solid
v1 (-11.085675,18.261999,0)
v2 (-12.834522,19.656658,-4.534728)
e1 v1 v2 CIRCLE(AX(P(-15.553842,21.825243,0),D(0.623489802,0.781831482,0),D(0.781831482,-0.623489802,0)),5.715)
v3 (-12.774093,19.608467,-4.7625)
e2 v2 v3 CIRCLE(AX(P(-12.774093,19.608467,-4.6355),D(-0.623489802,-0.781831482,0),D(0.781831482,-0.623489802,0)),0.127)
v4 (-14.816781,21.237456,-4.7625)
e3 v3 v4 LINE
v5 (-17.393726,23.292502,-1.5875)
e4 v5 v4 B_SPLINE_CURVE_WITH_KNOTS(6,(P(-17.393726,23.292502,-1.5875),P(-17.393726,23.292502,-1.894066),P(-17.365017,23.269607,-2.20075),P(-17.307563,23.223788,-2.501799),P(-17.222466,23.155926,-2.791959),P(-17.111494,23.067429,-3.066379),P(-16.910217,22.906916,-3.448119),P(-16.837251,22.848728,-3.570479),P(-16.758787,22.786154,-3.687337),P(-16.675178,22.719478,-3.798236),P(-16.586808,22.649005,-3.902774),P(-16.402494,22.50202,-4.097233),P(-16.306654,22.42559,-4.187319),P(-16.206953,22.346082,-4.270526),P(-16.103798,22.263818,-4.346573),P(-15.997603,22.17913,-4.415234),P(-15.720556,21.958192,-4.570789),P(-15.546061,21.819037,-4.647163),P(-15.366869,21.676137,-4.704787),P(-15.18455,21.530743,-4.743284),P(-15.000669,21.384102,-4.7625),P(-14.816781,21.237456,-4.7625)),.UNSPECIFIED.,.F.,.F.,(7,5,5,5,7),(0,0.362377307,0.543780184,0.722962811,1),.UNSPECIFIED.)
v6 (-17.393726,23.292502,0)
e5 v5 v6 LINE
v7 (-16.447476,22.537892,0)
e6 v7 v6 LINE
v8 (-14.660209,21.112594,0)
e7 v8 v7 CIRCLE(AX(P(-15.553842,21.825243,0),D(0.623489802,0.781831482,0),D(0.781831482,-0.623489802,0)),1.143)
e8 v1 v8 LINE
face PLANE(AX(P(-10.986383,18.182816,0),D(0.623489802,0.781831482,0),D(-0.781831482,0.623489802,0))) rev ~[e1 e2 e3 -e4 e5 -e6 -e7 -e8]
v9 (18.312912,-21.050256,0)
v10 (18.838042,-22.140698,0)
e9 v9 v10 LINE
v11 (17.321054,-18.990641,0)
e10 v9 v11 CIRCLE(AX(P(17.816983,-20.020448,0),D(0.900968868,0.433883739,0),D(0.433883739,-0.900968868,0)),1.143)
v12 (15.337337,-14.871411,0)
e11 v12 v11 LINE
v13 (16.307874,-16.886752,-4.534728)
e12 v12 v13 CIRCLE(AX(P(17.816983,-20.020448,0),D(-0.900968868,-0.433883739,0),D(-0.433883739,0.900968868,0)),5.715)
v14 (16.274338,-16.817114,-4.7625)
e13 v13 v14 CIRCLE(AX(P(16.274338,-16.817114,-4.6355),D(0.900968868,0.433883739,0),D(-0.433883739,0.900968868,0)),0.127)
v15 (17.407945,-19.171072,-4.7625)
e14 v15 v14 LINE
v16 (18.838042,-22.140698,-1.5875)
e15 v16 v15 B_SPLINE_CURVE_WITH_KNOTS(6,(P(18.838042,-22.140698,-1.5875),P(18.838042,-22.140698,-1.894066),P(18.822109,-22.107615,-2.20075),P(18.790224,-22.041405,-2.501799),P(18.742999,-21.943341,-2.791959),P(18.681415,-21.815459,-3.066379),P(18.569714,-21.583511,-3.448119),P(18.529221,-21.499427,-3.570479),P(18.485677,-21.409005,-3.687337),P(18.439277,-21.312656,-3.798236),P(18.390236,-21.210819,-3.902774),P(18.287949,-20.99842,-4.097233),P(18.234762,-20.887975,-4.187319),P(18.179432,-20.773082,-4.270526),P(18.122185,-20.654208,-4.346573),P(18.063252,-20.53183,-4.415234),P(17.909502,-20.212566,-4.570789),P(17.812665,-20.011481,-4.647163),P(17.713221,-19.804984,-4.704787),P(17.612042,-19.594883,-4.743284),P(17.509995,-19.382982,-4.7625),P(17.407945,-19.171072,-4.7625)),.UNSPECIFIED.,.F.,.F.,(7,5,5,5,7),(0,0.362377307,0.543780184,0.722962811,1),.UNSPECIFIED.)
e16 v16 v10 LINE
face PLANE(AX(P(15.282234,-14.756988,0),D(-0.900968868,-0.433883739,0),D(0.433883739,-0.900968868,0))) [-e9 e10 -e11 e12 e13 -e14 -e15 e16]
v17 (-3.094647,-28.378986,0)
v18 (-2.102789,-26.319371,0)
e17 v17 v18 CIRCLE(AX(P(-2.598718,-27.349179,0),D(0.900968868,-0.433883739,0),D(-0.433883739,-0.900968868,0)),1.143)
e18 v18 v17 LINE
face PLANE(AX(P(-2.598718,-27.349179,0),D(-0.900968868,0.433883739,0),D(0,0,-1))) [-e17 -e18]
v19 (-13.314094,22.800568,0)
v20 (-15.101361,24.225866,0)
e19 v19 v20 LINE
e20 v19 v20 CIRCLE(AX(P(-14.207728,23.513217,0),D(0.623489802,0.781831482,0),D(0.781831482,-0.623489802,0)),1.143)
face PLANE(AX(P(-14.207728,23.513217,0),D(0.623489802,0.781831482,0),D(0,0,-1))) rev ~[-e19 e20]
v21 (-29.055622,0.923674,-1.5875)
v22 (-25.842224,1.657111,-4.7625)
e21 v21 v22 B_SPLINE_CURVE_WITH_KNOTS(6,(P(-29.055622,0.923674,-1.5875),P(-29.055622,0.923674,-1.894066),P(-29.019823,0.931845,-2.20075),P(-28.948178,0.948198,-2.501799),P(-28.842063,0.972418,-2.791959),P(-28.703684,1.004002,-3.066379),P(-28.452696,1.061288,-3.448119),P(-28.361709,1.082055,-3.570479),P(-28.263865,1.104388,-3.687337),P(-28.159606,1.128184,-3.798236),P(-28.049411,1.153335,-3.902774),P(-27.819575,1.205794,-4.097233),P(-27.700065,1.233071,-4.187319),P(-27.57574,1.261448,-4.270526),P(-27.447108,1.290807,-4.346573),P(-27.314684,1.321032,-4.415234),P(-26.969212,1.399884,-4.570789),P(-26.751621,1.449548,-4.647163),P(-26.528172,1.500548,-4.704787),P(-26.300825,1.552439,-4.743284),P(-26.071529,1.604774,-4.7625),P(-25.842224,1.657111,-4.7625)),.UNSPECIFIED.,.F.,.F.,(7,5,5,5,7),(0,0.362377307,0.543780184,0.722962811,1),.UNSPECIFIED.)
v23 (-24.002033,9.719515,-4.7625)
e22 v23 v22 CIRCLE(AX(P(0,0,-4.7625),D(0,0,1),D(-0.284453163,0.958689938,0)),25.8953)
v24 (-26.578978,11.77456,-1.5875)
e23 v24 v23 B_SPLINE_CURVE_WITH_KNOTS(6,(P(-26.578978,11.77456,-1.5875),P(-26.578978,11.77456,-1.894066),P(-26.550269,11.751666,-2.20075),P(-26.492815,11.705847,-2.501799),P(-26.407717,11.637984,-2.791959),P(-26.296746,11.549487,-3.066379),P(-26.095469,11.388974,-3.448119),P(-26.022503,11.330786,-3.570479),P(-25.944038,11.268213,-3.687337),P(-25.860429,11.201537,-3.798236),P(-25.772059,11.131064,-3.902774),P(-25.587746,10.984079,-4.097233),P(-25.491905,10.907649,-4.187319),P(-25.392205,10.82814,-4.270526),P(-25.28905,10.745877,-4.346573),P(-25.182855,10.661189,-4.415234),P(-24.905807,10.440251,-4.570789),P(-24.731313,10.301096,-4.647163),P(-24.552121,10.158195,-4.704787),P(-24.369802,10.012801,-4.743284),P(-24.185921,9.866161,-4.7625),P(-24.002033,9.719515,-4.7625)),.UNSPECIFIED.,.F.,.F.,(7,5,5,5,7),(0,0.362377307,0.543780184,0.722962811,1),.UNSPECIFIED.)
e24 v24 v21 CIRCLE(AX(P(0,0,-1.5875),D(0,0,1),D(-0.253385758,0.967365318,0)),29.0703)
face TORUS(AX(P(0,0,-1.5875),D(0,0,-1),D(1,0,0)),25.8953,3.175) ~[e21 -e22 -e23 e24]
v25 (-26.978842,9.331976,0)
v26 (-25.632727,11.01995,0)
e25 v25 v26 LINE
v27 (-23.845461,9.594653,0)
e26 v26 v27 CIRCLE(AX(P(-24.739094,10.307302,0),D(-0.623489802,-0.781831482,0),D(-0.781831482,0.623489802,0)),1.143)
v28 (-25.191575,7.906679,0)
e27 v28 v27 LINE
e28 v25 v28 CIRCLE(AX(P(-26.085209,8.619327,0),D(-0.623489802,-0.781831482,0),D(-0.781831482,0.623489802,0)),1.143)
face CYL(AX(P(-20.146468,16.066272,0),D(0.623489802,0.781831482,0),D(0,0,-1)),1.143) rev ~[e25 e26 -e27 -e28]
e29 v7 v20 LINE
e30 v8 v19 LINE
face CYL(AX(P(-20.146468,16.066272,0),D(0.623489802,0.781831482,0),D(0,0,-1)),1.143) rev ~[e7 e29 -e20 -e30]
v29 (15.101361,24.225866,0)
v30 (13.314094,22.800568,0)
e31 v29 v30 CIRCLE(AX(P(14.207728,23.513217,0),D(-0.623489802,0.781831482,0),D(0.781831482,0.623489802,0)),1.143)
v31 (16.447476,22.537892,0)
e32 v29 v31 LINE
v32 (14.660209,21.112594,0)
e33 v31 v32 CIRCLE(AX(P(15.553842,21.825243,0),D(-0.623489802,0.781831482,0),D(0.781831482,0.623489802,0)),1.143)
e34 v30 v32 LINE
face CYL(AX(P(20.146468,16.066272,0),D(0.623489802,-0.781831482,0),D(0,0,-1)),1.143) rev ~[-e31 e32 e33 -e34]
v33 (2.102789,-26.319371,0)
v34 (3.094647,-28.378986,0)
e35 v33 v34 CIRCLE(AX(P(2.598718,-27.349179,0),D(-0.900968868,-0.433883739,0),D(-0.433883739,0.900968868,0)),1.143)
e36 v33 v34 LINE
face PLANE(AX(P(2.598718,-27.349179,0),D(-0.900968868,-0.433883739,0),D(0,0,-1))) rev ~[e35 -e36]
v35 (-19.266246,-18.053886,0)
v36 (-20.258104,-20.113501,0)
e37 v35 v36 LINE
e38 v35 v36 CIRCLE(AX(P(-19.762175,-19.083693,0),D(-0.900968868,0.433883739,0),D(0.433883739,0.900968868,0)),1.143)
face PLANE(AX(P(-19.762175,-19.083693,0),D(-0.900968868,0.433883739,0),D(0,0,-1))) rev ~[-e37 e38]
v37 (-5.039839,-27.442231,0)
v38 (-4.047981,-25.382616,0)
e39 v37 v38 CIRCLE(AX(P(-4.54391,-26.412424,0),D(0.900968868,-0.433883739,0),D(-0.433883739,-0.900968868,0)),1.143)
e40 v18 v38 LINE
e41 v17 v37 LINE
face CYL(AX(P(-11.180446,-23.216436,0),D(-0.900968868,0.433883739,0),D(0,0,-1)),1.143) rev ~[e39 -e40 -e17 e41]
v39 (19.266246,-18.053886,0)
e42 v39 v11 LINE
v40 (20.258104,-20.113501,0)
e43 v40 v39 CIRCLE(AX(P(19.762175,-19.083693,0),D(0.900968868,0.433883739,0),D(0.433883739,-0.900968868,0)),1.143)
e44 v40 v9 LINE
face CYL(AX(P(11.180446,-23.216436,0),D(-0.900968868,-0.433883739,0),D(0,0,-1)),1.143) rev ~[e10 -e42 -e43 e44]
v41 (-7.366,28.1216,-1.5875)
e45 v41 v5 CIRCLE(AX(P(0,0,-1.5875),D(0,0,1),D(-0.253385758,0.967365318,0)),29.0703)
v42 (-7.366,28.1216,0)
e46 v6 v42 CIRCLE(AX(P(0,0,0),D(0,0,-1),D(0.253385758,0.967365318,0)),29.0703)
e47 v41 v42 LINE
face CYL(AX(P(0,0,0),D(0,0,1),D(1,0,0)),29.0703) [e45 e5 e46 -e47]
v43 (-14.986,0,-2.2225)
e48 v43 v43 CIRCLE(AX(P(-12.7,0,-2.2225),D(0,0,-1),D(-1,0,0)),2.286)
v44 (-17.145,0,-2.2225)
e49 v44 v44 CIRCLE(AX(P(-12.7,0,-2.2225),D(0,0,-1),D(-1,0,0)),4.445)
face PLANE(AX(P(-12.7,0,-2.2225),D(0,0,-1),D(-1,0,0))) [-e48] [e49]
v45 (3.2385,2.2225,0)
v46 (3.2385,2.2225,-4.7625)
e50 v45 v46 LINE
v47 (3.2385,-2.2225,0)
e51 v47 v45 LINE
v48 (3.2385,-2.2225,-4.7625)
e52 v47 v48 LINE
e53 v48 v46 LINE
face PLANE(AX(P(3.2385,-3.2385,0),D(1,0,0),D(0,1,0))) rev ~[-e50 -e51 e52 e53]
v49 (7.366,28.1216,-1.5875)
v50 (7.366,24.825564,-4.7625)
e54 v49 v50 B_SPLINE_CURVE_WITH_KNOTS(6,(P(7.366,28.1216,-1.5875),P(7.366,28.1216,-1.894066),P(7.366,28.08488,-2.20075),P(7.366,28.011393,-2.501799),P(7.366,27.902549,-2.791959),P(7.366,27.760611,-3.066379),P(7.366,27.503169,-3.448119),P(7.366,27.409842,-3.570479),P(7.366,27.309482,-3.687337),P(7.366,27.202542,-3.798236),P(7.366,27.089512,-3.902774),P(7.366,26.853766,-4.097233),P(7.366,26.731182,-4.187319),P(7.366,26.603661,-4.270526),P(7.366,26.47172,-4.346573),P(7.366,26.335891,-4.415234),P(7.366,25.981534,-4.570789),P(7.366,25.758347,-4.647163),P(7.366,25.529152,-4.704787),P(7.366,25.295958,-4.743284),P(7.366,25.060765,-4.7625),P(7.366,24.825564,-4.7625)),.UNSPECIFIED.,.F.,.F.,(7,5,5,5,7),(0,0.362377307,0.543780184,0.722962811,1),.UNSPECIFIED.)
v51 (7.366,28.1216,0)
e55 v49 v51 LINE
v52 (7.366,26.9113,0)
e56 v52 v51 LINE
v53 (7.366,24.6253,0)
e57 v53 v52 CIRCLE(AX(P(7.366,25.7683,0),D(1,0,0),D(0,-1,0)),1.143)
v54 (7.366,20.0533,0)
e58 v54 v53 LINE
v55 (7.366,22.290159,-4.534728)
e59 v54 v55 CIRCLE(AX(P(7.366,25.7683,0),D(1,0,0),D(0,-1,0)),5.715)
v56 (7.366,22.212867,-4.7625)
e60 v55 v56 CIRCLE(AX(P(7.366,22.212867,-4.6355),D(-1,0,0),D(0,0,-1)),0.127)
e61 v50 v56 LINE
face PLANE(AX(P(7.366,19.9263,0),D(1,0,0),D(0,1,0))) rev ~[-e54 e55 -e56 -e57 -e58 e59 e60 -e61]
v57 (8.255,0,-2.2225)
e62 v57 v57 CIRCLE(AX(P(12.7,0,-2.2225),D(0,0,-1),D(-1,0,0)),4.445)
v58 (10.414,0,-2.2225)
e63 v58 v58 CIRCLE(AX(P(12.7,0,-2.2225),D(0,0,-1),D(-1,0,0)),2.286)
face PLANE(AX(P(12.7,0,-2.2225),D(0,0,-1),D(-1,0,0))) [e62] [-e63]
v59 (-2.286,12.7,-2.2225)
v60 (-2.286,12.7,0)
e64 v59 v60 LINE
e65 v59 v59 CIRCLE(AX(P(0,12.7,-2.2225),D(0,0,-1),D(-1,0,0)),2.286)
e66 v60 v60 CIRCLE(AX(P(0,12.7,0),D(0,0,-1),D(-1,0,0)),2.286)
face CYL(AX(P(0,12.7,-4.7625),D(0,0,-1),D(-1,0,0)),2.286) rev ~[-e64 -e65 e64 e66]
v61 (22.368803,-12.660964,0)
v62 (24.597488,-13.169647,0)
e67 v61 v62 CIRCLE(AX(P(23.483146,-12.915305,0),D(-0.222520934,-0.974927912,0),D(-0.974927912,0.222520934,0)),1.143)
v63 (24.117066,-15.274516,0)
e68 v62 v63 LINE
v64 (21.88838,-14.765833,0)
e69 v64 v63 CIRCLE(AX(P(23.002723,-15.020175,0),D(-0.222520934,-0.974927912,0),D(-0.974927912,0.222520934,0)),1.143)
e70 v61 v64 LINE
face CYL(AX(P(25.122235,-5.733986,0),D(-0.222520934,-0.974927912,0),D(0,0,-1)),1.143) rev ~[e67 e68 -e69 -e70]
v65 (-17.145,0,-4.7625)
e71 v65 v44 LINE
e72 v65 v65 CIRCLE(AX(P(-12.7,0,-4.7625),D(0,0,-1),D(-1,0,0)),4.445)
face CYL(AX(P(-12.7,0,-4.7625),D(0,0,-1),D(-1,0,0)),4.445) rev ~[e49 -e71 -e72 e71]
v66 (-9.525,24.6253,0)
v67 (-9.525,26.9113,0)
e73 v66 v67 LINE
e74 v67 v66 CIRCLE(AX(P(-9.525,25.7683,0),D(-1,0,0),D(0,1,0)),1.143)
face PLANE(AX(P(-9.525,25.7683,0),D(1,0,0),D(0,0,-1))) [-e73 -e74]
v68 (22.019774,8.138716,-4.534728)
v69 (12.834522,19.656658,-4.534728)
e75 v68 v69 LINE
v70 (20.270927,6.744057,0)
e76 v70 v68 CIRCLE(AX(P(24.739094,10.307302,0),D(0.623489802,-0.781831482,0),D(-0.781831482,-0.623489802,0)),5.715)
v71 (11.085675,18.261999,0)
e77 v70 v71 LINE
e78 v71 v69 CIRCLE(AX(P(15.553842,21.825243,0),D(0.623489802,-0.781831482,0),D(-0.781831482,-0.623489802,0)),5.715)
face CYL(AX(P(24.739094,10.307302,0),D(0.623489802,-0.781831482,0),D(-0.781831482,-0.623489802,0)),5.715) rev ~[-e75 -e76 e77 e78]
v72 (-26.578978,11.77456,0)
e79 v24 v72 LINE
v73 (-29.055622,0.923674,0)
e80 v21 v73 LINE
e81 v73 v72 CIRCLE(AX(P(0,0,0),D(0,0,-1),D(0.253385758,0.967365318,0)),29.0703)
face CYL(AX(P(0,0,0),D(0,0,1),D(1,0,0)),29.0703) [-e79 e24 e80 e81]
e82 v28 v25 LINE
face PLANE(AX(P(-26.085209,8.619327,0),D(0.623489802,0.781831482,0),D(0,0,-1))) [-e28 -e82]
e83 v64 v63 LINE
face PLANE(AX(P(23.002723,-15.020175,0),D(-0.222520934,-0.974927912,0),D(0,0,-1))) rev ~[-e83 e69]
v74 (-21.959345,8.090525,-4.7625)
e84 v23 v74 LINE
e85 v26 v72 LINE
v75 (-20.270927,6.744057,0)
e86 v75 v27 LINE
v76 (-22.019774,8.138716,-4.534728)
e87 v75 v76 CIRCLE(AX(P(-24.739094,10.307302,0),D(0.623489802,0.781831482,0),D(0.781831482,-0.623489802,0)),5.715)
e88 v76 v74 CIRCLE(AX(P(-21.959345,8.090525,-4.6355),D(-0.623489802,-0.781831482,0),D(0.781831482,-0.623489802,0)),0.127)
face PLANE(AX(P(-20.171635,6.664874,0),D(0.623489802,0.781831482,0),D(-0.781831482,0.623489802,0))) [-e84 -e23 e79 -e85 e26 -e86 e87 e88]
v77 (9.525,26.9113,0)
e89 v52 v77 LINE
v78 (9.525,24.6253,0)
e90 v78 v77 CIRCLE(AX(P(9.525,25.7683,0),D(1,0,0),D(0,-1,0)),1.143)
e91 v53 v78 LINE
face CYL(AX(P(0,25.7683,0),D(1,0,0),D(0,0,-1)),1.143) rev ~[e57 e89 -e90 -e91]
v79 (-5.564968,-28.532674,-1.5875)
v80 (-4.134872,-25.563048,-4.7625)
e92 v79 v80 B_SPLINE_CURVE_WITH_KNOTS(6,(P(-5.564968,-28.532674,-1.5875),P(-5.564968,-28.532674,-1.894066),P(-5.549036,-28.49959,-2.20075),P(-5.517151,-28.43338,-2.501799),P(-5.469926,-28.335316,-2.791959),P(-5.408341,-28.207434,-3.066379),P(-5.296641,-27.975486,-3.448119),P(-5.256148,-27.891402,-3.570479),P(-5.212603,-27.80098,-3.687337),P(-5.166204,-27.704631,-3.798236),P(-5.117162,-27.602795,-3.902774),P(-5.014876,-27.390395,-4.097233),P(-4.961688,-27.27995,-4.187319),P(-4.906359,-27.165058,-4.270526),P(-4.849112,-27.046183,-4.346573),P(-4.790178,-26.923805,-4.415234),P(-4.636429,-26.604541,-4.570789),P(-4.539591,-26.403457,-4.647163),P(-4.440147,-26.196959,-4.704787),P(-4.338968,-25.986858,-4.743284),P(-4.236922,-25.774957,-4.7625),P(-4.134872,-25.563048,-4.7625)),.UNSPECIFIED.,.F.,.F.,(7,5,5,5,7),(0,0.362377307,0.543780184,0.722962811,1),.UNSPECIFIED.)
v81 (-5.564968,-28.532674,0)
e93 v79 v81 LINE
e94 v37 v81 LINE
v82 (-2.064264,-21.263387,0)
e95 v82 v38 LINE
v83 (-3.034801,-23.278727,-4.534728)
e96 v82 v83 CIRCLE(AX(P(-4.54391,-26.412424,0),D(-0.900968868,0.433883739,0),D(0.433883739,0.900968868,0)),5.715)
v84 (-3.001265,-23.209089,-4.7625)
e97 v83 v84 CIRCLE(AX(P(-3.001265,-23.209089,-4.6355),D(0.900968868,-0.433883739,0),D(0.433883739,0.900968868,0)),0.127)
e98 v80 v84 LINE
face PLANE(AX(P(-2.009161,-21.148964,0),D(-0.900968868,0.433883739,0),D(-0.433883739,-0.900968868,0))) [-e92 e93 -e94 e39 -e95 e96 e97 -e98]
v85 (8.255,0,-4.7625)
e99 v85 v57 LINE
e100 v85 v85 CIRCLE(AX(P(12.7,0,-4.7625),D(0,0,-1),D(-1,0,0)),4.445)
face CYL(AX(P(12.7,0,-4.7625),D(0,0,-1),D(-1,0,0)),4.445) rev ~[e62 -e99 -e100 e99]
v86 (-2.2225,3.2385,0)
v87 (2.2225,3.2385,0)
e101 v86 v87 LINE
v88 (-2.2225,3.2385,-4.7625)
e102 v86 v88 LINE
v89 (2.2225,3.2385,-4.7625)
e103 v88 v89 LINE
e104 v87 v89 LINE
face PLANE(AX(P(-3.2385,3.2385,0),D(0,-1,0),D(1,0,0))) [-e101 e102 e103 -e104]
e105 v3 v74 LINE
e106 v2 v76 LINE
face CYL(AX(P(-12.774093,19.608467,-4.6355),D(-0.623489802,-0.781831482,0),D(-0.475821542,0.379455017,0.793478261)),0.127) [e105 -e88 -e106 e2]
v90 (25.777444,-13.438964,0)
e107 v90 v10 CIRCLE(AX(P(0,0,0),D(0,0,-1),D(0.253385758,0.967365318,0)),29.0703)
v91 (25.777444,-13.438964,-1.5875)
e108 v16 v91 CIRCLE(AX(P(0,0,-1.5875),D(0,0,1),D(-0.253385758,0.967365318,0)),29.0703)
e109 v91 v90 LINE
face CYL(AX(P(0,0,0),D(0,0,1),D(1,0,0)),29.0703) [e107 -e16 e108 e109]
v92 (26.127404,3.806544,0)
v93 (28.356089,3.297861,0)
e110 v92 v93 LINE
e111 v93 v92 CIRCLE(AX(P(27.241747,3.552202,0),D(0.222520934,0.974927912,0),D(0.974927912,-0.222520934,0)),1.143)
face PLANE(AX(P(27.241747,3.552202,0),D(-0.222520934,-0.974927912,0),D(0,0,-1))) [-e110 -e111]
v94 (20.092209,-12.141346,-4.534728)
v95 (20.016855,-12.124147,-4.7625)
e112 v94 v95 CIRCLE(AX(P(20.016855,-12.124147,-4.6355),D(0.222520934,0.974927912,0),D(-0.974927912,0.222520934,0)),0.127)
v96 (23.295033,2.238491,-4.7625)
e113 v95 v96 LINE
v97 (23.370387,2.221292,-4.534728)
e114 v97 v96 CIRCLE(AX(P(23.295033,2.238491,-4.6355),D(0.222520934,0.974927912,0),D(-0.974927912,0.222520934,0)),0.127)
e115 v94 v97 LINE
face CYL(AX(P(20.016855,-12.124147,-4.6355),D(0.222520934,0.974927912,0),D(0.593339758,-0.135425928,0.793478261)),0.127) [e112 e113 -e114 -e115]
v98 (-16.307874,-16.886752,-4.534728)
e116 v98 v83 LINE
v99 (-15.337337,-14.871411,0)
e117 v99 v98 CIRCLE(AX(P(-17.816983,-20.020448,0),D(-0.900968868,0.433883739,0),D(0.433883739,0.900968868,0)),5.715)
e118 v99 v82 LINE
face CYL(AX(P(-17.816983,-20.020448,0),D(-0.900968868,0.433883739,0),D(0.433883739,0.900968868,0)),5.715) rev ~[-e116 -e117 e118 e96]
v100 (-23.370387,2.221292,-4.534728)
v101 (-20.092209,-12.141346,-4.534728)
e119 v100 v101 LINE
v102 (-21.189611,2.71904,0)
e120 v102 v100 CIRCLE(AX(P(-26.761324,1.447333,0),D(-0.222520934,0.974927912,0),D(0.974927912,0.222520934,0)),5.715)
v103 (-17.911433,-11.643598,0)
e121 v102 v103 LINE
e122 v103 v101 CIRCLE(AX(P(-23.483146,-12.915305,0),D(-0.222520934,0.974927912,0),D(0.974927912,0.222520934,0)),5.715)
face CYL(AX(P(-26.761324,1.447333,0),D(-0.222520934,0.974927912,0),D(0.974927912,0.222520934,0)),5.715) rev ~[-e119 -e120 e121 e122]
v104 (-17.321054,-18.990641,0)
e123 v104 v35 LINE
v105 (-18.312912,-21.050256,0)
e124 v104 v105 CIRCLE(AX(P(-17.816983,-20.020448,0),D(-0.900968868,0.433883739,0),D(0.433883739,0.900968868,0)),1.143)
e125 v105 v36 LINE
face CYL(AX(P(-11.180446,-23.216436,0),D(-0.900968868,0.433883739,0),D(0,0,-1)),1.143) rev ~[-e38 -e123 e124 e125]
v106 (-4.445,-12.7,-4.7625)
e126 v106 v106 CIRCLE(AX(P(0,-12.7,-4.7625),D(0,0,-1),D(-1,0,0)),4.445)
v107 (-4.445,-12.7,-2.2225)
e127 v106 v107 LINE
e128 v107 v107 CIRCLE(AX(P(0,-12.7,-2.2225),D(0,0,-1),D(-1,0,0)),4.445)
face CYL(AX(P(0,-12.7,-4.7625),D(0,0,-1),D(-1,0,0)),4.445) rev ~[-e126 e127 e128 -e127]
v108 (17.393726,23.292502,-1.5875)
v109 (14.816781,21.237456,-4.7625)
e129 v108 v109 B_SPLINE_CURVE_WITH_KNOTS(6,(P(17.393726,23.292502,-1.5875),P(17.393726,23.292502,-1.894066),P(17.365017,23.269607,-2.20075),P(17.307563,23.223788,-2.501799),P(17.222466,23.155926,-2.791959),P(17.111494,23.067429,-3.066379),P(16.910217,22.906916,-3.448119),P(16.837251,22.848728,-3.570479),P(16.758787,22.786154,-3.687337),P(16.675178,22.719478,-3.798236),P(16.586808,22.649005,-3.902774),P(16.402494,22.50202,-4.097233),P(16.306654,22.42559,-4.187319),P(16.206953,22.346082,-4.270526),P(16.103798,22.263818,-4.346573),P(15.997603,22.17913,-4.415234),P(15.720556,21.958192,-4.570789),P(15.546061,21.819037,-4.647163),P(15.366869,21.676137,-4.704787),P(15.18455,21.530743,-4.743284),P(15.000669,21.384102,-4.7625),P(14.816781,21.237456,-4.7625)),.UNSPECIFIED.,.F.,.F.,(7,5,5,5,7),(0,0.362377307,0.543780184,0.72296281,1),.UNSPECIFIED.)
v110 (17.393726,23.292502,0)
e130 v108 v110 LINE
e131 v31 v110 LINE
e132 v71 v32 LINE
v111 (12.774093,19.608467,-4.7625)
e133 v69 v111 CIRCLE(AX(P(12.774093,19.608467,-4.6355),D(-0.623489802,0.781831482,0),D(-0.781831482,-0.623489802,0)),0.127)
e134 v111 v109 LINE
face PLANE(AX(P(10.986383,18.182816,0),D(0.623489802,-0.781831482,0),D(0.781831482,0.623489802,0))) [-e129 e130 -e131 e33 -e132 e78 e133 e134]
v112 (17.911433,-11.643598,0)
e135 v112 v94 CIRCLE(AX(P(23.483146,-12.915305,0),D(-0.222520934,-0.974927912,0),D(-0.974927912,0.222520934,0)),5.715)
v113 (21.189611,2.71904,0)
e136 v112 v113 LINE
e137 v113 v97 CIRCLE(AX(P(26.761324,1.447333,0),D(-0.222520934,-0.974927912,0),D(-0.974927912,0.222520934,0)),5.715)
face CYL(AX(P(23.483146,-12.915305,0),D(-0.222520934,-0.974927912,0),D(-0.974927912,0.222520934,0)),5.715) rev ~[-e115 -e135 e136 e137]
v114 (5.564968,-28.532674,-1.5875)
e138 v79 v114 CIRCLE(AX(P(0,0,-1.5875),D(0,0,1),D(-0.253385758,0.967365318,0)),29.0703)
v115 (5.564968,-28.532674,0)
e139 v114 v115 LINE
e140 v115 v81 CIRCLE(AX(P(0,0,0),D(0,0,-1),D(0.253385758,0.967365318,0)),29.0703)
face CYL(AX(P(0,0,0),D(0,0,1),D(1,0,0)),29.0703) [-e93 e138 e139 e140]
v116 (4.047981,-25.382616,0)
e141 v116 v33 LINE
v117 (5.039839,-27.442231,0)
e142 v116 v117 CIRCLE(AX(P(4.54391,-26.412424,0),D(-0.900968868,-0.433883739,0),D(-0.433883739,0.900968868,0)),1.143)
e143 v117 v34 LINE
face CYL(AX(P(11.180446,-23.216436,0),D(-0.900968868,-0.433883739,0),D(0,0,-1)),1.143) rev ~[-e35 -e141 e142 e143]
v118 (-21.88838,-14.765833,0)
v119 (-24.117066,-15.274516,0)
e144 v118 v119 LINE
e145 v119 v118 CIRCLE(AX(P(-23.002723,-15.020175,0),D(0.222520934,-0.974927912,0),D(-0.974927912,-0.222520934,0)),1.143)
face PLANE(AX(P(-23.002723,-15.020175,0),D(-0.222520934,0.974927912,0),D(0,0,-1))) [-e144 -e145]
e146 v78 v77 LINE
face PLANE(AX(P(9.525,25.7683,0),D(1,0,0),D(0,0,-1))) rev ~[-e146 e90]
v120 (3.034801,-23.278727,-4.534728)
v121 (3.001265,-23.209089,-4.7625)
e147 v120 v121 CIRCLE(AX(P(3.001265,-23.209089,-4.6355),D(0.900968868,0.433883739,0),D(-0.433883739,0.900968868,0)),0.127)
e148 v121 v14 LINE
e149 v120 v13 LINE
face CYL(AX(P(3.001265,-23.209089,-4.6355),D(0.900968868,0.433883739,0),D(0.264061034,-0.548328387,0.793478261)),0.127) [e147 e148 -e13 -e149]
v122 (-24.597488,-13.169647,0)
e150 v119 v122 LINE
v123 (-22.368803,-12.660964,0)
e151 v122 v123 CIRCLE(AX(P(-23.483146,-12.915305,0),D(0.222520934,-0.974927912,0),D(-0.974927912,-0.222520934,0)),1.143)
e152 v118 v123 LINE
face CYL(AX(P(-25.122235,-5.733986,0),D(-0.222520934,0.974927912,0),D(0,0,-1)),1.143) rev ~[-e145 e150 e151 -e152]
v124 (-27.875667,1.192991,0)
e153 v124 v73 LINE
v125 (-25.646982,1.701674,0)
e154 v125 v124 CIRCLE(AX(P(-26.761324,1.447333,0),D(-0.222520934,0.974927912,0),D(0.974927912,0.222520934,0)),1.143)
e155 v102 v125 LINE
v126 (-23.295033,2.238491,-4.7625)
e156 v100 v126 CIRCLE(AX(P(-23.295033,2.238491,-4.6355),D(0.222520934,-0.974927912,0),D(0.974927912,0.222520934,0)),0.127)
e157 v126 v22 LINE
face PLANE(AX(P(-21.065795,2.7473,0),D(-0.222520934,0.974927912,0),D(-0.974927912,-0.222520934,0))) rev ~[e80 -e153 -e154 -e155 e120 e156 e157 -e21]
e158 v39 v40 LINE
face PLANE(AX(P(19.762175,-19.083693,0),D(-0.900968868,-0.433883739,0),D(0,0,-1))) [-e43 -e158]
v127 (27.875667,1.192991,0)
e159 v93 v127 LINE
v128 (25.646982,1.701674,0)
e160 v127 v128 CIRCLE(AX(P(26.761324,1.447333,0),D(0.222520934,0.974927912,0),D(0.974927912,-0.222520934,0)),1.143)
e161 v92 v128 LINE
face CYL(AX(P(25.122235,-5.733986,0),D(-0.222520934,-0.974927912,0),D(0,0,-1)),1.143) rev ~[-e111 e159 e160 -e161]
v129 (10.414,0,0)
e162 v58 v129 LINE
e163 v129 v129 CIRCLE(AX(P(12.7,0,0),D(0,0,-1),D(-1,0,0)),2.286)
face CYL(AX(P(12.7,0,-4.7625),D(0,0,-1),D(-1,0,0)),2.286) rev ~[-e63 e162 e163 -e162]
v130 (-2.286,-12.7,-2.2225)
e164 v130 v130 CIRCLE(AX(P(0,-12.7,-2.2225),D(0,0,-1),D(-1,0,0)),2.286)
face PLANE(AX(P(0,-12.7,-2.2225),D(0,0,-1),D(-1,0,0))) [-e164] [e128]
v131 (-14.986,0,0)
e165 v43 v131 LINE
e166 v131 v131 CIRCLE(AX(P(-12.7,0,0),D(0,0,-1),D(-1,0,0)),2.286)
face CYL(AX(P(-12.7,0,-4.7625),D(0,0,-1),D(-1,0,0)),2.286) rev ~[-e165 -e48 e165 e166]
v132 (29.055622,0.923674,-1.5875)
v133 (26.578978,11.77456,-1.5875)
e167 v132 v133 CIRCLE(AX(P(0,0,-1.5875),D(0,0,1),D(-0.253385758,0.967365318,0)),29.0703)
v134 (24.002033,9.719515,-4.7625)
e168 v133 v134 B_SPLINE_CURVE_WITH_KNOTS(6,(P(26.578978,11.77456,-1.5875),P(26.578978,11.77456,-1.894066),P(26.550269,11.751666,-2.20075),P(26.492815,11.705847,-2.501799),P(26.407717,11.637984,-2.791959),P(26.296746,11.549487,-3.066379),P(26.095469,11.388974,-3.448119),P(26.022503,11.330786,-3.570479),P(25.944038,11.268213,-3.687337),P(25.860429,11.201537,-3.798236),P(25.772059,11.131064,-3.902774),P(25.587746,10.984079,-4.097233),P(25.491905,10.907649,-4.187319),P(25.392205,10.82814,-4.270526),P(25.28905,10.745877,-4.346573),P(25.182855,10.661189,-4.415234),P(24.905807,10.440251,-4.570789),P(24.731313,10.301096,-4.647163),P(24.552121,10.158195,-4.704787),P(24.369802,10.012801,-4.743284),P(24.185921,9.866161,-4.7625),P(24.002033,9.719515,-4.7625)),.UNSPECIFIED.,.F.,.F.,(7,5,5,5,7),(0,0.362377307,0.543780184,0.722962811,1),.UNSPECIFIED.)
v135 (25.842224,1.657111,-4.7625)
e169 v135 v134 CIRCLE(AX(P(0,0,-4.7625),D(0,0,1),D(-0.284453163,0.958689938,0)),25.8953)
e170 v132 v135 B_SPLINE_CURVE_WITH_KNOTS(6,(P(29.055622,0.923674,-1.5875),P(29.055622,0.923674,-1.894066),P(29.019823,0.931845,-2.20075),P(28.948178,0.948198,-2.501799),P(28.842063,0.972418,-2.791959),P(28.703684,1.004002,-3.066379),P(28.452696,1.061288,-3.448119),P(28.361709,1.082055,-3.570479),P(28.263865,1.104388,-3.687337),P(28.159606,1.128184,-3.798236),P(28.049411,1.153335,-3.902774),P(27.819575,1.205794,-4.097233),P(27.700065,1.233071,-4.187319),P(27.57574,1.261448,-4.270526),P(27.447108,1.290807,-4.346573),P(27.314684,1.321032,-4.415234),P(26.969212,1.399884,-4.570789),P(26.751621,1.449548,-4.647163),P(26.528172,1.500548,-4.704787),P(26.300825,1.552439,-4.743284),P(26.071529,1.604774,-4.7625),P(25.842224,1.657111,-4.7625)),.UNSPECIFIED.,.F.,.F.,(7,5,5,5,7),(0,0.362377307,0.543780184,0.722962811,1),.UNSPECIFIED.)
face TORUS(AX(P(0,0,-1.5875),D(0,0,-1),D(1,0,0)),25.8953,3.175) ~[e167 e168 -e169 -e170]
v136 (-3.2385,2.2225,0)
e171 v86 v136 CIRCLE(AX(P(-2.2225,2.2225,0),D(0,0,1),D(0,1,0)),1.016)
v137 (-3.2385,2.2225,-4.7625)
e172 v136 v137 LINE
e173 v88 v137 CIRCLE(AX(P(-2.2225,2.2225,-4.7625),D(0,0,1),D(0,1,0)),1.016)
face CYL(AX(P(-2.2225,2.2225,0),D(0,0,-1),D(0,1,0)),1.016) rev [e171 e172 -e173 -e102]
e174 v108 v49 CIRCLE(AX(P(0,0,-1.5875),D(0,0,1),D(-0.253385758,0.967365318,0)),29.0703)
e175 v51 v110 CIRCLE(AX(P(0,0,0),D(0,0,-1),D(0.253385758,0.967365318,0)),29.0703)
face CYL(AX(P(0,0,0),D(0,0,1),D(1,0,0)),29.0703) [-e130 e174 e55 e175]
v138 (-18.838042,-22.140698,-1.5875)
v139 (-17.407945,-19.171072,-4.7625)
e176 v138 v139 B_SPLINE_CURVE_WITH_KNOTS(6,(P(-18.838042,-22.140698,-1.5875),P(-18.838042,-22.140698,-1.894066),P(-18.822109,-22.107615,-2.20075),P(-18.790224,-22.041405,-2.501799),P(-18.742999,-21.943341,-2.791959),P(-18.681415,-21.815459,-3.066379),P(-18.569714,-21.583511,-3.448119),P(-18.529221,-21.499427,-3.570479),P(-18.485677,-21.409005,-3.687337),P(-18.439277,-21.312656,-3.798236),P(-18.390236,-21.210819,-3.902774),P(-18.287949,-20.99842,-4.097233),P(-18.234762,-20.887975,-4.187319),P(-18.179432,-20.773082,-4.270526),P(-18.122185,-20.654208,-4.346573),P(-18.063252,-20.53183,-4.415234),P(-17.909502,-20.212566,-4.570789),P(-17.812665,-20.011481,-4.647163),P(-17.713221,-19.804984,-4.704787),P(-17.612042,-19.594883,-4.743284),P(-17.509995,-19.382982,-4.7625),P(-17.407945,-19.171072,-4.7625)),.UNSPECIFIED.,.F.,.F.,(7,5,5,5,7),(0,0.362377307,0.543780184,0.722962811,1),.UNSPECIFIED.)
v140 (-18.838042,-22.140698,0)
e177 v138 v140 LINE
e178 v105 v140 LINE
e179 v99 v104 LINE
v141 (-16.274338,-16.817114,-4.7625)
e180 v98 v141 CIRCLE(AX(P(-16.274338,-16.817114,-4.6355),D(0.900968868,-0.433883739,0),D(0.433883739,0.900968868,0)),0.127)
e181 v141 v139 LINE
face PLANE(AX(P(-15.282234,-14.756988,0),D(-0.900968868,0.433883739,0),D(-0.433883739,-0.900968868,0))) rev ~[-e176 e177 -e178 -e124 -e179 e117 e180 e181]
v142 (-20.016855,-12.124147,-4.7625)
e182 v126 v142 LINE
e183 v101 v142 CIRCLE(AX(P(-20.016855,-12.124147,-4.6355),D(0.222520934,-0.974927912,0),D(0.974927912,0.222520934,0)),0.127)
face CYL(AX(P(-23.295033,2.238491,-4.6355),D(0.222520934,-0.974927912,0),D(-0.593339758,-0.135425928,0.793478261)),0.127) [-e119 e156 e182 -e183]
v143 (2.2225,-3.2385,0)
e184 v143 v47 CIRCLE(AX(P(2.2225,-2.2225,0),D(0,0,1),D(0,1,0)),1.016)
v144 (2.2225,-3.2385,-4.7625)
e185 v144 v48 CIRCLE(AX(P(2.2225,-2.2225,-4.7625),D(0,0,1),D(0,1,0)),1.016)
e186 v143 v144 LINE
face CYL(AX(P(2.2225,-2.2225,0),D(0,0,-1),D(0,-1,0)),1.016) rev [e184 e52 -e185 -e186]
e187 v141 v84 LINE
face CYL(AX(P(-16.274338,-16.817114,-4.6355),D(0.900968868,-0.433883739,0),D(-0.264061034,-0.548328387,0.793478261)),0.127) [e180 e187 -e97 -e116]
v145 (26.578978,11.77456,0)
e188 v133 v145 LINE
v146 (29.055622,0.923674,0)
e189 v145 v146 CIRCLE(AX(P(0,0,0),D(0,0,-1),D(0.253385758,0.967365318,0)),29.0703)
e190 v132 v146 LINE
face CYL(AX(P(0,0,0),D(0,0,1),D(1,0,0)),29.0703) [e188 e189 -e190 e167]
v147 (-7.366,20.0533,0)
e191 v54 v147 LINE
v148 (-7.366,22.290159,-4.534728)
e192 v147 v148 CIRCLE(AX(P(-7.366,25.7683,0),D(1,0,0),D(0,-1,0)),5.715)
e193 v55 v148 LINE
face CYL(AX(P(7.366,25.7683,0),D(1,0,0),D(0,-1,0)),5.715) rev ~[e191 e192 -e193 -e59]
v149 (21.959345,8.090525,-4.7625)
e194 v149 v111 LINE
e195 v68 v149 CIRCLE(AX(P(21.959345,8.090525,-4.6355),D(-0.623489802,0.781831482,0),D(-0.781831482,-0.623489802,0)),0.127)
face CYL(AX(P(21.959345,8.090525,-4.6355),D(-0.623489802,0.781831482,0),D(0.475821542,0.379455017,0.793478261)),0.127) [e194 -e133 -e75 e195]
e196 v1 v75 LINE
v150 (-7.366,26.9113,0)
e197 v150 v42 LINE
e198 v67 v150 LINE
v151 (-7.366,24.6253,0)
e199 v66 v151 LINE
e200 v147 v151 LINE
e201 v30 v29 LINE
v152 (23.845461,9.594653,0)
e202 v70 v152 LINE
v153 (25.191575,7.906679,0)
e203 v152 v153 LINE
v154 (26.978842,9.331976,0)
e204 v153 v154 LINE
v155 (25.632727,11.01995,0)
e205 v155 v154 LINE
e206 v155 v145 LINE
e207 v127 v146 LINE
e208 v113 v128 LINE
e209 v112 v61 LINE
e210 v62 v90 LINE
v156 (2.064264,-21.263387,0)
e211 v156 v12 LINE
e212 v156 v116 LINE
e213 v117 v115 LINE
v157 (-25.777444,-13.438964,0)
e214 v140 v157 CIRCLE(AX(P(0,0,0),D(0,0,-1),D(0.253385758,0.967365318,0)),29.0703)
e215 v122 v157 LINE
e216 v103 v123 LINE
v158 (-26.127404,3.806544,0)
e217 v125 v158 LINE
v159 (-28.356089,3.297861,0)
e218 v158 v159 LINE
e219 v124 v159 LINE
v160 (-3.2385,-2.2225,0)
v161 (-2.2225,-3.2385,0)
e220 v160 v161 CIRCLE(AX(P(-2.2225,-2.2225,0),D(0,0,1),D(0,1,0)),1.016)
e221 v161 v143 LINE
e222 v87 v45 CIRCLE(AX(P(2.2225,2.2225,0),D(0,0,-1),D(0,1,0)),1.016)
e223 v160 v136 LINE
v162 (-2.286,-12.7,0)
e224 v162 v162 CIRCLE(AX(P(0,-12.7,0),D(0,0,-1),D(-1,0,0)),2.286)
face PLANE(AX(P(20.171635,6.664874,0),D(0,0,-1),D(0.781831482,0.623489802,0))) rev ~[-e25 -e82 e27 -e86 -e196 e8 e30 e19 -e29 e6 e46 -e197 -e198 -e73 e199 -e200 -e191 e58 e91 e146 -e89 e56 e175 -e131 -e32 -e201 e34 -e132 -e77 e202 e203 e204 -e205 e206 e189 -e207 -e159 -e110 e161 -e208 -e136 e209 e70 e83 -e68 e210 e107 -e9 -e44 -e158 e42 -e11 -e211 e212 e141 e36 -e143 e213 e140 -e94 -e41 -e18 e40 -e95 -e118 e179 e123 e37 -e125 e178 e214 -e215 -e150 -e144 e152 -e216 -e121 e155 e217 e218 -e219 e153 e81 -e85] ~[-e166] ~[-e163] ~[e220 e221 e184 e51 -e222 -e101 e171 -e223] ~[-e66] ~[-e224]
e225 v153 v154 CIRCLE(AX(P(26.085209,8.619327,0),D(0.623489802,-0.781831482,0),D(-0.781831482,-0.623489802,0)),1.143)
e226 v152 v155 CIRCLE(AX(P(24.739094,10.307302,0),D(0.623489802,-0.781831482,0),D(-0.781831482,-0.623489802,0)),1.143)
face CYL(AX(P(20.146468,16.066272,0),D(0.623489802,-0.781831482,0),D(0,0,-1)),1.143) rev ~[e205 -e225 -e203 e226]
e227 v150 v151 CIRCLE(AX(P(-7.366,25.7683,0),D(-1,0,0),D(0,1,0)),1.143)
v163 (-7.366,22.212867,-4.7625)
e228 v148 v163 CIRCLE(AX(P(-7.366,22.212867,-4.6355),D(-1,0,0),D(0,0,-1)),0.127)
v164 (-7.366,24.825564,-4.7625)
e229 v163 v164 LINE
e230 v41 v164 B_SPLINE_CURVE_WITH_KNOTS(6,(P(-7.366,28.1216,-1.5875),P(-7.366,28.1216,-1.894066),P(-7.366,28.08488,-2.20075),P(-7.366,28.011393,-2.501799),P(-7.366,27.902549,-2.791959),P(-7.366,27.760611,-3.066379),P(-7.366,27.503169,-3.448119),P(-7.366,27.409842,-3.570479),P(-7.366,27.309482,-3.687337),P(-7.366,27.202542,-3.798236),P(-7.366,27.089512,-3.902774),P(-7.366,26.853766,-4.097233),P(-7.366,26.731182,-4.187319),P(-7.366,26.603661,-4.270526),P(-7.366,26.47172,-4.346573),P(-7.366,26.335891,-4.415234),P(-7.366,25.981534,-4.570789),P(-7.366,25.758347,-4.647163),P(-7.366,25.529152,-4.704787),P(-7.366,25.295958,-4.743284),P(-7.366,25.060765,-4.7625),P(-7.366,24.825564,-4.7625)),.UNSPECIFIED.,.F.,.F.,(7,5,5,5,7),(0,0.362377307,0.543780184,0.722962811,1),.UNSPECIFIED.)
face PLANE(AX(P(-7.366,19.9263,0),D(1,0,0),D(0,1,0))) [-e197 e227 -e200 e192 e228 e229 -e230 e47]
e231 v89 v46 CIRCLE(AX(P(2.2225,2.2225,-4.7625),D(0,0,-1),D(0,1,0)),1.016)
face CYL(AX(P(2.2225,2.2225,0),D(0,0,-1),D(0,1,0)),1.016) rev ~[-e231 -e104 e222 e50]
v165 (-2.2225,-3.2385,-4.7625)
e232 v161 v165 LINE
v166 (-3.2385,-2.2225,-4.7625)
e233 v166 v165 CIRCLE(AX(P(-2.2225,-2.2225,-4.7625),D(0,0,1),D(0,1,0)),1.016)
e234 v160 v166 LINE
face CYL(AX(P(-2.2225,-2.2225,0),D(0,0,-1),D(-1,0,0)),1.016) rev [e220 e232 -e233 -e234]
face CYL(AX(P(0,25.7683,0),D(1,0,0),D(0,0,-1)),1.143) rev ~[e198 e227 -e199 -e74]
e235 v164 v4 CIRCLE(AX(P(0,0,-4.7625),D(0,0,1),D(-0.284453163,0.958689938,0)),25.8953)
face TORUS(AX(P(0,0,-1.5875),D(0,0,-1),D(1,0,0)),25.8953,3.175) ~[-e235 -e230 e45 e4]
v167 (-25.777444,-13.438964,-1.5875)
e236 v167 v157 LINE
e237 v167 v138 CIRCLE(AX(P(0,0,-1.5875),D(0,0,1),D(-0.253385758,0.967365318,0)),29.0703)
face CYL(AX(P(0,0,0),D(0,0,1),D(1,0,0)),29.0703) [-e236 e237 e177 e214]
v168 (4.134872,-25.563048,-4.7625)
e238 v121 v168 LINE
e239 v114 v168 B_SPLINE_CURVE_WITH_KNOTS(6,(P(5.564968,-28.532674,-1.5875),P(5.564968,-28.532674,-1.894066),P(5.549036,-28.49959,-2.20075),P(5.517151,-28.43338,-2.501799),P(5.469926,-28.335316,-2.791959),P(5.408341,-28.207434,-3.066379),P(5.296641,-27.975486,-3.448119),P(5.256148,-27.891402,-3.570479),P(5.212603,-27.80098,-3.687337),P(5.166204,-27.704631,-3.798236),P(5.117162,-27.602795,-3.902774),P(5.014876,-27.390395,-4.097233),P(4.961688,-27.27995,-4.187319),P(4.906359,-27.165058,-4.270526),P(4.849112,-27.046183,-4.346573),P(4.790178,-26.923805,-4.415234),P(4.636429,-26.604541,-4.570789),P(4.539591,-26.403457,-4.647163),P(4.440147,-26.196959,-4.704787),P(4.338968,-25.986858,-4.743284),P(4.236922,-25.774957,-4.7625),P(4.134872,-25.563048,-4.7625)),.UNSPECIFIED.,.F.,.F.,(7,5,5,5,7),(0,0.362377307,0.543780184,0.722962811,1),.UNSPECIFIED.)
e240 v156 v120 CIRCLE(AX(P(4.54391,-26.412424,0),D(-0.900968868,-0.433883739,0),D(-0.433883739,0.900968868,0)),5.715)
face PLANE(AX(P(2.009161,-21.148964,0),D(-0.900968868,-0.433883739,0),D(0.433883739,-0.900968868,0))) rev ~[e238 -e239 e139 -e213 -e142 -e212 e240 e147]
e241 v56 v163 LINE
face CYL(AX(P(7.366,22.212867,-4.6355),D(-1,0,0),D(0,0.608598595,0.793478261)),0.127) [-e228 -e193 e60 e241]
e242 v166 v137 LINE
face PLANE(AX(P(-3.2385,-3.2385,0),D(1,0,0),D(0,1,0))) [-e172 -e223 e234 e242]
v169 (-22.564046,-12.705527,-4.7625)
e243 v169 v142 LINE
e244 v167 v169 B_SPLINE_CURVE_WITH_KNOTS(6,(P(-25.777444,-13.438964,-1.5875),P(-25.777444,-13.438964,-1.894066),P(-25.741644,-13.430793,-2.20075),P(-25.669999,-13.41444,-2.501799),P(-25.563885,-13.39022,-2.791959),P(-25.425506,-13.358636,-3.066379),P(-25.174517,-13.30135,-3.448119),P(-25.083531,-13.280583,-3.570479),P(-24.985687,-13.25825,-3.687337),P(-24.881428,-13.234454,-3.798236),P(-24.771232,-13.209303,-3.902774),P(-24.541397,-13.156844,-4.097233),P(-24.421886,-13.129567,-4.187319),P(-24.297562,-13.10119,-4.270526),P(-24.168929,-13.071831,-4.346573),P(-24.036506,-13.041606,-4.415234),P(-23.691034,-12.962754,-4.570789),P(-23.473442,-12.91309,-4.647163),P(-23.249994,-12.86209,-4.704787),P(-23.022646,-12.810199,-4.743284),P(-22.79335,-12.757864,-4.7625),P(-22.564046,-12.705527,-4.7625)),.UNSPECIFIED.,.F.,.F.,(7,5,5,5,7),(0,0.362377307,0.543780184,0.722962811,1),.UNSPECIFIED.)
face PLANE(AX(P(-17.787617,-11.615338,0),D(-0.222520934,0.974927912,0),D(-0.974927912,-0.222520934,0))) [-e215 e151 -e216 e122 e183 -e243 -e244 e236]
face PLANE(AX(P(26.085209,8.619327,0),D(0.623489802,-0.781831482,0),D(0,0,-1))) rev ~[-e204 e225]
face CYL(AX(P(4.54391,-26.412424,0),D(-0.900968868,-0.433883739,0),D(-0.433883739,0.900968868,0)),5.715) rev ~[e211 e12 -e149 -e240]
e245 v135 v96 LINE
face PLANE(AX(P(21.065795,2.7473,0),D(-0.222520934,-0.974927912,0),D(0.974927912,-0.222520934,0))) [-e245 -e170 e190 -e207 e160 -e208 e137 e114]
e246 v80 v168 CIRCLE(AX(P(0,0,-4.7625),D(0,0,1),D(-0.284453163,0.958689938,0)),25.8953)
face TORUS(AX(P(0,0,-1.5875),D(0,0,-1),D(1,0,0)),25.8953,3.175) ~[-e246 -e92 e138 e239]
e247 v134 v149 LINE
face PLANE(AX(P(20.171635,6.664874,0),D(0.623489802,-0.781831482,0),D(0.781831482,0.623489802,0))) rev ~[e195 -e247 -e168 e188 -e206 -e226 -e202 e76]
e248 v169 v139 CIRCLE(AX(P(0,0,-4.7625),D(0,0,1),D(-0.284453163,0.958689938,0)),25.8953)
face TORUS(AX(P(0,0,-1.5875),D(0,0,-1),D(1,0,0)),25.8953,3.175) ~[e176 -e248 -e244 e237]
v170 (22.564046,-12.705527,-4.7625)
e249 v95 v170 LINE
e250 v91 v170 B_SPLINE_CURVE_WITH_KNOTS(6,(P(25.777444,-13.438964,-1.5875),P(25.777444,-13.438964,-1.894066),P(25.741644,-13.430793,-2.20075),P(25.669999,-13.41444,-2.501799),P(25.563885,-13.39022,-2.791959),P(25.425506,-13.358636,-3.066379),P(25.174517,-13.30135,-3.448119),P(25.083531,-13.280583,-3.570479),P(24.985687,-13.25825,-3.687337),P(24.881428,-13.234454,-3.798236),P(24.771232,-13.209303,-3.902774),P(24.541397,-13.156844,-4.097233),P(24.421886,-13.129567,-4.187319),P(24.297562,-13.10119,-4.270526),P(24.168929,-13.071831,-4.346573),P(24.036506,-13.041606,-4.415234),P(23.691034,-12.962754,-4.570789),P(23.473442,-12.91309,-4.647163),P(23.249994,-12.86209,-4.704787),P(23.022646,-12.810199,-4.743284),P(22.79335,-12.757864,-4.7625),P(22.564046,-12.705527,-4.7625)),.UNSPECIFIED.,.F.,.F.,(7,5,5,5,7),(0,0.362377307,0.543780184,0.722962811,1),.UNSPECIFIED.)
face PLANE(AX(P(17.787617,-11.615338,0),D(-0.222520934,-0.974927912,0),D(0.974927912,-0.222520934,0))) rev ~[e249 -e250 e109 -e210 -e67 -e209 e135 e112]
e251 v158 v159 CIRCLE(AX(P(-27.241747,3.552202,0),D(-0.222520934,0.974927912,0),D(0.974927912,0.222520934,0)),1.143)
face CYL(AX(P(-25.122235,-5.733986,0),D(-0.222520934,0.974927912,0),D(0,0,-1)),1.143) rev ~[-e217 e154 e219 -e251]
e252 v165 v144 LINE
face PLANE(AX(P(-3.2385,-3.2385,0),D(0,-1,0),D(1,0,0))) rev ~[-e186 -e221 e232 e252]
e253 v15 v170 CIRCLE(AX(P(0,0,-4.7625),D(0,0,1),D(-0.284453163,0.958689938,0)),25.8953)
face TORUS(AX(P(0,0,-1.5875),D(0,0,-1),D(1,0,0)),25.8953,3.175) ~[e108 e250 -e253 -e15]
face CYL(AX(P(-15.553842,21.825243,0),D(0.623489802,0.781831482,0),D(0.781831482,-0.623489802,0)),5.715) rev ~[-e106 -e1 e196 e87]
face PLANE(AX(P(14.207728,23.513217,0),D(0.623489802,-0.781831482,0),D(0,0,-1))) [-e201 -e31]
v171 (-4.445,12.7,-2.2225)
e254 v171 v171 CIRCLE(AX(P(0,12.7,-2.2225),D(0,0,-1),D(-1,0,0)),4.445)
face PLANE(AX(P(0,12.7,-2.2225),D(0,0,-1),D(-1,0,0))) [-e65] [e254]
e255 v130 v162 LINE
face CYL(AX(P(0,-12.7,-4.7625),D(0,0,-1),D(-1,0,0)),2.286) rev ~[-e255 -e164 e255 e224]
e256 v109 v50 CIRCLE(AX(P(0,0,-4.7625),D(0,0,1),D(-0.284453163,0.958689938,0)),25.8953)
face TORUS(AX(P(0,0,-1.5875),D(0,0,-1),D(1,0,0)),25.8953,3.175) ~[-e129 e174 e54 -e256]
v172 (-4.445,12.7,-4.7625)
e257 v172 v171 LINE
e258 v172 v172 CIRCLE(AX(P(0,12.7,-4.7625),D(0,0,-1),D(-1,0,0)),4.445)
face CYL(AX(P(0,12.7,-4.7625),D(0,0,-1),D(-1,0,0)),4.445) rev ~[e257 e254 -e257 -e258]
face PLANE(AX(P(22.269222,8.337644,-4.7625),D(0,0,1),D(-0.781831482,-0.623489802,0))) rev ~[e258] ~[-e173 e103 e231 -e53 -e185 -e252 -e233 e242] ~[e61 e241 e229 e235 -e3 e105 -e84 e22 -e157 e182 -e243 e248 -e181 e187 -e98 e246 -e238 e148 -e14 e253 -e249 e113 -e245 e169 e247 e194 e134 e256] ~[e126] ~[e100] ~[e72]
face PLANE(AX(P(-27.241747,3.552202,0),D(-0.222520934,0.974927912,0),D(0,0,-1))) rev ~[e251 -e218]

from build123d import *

# Parameters (mm, degrees)
SKETCH1_R                = 29.0703
BOSS_EXTRUDE2_DEPTH      = 4.7625
FILLET1_R                = 3.175
SKETCH2_W                = 14.732
SKETCH2_H                = 10.414
CUT_EXTRUDE2_DEPTH       = 12.7
CIRPATTERN1_COUNT        = 7
SKETCH4_R                = 1.143
CUT_EXTRUDE4_DEPTH       = 9.525
CIRPATTERN2_COUNT        = 7
SKETCH5_W                = 6.477
SKETCH5_H                = 6.477
CUT_EXTRUDE5_DEPTH       = 42.376236281
SKETCH6_R                = 2.286
CUT_EXTRUDE7_DEPTH       = 42.376236281
SKETCH7_R                = 4.445
CUT_EXTRUDE8_DEPTH       = 2.54
BOSS_EXTRUDE4_REACH      = 48.843
FILLET2_R                = 0.127
CIRPATTERN5_COUNT        = 7
FILLET2_OF_CIRPATTERN5_R = 0.127
FILLET3_R                = 1.016


with BuildPart() as part:
    # Sketch1 → Boss-Extrude2 (new body)
    with BuildSketch(Plane.XY):
        Circle(SKETCH1_R)
    extrude(amount=-BOSS_EXTRUDE2_DEPTH)

    # Fillet1
    fillet1_edges = [part.edges().sort_by_distance(p)[0] for p in [
        (-29.0703, 0, -4.7625),
    ]]
    fillet(fillet1_edges, radius=FILLET1_R)

    # Sketch2 → Cut-Extrude2 (cut)
    with BuildSketch(Plane.XY):
        with Locations((0, 25.1333)):
            Rectangle(SKETCH2_W, SKETCH2_H)
    cut_extrude2 = extrude(amount=-CUT_EXTRUDE2_DEPTH, mode=Mode.SUBTRACT)

    # CirPattern1: Cut-Extrude2 ×7 about axis
    cirpattern1_axis = Axis((0, 0, 0), (0, 0, 1))
    for i in range(1, CIRPATTERN1_COUNT):
        add(cut_extrude2.rotate(cirpattern1_axis, i * 360 / CIRPATTERN1_COUNT), mode=Mode.SUBTRACT)

    # Sketch4 → Cut-Extrude4 (cut, symmetric)
    with BuildSketch(Plane(origin=(0, 0, 0), x_dir=(0, 0, -1), z_dir=(1, 0, 0))):
        with Locations((0, 25.7683)):
            Circle(SKETCH4_R)
    cut_extrude4 = extrude(amount=CUT_EXTRUDE4_DEPTH, both=True, mode=Mode.SUBTRACT)

    # CirPattern2: Cut-Extrude4 ×7 about axis
    cirpattern2_axis = Axis((0, 0, 0), (0, 0, 1))
    for i in range(1, CIRPATTERN2_COUNT):
        add(cut_extrude4.rotate(cirpattern2_axis, i * 360 / CIRPATTERN2_COUNT), mode=Mode.SUBTRACT)

    # Sketch5 → Cut-Extrude5 (cut, through all)
    with BuildSketch(Plane.XY):
        Rectangle(SKETCH5_W, SKETCH5_H)
    extrude(amount=-CUT_EXTRUDE5_DEPTH, mode=Mode.SUBTRACT)

    # Sketch6 → Cut-Extrude7 (cut, through all)
    with BuildSketch(Plane(origin=(0, 0, -4.7625), x_dir=(-1, 0, 0), z_dir=(0, 0, -1))):
        with Locations((12.7, 0)):
            Circle(SKETCH6_R)
        with Locations((0, -12.7)):
            Circle(SKETCH6_R)
        with Locations((-12.7, 0)):
            Circle(SKETCH6_R)
        with Locations((0, 12.7)):
            Circle(SKETCH6_R)
    extrude(amount=-CUT_EXTRUDE7_DEPTH, mode=Mode.SUBTRACT)

    # Sketch7 → Cut-Extrude8 (cut)
    with BuildSketch(Plane(origin=(0, 0, -4.7625), x_dir=(-1, 0, 0), z_dir=(0, 0, -1))):
        with Locations((12.7, 0)):
            Circle(SKETCH7_R)
        with Locations((0, -12.7)):
            Circle(SKETCH7_R)
        with Locations((-12.7, 0)):
            Circle(SKETCH7_R)
        with Locations((0, 12.7)):
            Circle(SKETCH7_R)
    extrude(amount=-CUT_EXTRUDE8_DEPTH, mode=Mode.SUBTRACT)

    # Sketch10 → Boss-Extrude4 (add, up to next)
    with BuildSketch(Plane.ZY.offset(-7.366), mode=Mode.PRIVATE) as boss_extrude4_sk1:
        with BuildLine():
            Line((-4.7625, 19.9263), (0, 19.9263))
            Line((0, 19.9263), (0, 20.0533))
            ThreePointArc((0, 20.0533), (-2.7025038, 20.73265722), (-4.7625, 22.609214887))
            Line((-4.7625, 22.609214887), (-4.7625, 19.9263))
        make_face()
    boss_extrude4_tool1 = extrude(boss_extrude4_sk1.sketch, amount=BOSS_EXTRUDE4_REACH, mode=Mode.PRIVATE) - part.part
    boss_extrude4 = boss_extrude4_tool1.solids().sort_by_distance((7.366, 20.664807, -3.452063))[0]
    add(boss_extrude4)

    # Fillet2
    fillet2_edges = [part.edges().sort_by_distance(p)[0] for p in [
        (0, 22.609214887, -4.7625),
    ]]
    fillet(fillet2_edges, radius=FILLET2_R)

    # CirPattern5: Boss-Extrude4 ×7 about axis
    cirpattern5_axis = Axis((0, 0, 0), (0, 0, 1))
    for i in range(1, CIRPATTERN5_COUNT):
        add(boss_extrude4.rotate(cirpattern5_axis, i * 360 / CIRPATTERN5_COUNT))

    # Fillet2 of CirPattern5
    fillet2_of_cirpattern5_edges = [part.edges().sort_by_distance(p)[0] for p in [
        (-17.676595993, 14.09661491, -4.7625),
        (-22.042354666, -5.031023613, -4.7625),
        (-9.809770694, -20.370198741, -4.7625),
        (9.809770694, -20.370198741, -4.7625),
        (22.042354666, -5.031023613, -4.7625),
        (17.676595993, 14.09661491, -4.7625),
    ]]
    fillet(fillet2_of_cirpattern5_edges, radius=FILLET2_OF_CIRPATTERN5_R)

    # Fillet3
    fillet3_edges = [part.edges().sort_by_distance(p)[0] for p in [
        (3.2385, 3.2385, -2.38125),
        (3.2385, -3.2385, -2.38125),
        (-3.2385, -3.2385, -2.38125),
        (-3.2385, 3.2385, -2.38125),
    ]]
    fillet(fillet3_edges, radius=FILLET3_R)


solid = part.part
